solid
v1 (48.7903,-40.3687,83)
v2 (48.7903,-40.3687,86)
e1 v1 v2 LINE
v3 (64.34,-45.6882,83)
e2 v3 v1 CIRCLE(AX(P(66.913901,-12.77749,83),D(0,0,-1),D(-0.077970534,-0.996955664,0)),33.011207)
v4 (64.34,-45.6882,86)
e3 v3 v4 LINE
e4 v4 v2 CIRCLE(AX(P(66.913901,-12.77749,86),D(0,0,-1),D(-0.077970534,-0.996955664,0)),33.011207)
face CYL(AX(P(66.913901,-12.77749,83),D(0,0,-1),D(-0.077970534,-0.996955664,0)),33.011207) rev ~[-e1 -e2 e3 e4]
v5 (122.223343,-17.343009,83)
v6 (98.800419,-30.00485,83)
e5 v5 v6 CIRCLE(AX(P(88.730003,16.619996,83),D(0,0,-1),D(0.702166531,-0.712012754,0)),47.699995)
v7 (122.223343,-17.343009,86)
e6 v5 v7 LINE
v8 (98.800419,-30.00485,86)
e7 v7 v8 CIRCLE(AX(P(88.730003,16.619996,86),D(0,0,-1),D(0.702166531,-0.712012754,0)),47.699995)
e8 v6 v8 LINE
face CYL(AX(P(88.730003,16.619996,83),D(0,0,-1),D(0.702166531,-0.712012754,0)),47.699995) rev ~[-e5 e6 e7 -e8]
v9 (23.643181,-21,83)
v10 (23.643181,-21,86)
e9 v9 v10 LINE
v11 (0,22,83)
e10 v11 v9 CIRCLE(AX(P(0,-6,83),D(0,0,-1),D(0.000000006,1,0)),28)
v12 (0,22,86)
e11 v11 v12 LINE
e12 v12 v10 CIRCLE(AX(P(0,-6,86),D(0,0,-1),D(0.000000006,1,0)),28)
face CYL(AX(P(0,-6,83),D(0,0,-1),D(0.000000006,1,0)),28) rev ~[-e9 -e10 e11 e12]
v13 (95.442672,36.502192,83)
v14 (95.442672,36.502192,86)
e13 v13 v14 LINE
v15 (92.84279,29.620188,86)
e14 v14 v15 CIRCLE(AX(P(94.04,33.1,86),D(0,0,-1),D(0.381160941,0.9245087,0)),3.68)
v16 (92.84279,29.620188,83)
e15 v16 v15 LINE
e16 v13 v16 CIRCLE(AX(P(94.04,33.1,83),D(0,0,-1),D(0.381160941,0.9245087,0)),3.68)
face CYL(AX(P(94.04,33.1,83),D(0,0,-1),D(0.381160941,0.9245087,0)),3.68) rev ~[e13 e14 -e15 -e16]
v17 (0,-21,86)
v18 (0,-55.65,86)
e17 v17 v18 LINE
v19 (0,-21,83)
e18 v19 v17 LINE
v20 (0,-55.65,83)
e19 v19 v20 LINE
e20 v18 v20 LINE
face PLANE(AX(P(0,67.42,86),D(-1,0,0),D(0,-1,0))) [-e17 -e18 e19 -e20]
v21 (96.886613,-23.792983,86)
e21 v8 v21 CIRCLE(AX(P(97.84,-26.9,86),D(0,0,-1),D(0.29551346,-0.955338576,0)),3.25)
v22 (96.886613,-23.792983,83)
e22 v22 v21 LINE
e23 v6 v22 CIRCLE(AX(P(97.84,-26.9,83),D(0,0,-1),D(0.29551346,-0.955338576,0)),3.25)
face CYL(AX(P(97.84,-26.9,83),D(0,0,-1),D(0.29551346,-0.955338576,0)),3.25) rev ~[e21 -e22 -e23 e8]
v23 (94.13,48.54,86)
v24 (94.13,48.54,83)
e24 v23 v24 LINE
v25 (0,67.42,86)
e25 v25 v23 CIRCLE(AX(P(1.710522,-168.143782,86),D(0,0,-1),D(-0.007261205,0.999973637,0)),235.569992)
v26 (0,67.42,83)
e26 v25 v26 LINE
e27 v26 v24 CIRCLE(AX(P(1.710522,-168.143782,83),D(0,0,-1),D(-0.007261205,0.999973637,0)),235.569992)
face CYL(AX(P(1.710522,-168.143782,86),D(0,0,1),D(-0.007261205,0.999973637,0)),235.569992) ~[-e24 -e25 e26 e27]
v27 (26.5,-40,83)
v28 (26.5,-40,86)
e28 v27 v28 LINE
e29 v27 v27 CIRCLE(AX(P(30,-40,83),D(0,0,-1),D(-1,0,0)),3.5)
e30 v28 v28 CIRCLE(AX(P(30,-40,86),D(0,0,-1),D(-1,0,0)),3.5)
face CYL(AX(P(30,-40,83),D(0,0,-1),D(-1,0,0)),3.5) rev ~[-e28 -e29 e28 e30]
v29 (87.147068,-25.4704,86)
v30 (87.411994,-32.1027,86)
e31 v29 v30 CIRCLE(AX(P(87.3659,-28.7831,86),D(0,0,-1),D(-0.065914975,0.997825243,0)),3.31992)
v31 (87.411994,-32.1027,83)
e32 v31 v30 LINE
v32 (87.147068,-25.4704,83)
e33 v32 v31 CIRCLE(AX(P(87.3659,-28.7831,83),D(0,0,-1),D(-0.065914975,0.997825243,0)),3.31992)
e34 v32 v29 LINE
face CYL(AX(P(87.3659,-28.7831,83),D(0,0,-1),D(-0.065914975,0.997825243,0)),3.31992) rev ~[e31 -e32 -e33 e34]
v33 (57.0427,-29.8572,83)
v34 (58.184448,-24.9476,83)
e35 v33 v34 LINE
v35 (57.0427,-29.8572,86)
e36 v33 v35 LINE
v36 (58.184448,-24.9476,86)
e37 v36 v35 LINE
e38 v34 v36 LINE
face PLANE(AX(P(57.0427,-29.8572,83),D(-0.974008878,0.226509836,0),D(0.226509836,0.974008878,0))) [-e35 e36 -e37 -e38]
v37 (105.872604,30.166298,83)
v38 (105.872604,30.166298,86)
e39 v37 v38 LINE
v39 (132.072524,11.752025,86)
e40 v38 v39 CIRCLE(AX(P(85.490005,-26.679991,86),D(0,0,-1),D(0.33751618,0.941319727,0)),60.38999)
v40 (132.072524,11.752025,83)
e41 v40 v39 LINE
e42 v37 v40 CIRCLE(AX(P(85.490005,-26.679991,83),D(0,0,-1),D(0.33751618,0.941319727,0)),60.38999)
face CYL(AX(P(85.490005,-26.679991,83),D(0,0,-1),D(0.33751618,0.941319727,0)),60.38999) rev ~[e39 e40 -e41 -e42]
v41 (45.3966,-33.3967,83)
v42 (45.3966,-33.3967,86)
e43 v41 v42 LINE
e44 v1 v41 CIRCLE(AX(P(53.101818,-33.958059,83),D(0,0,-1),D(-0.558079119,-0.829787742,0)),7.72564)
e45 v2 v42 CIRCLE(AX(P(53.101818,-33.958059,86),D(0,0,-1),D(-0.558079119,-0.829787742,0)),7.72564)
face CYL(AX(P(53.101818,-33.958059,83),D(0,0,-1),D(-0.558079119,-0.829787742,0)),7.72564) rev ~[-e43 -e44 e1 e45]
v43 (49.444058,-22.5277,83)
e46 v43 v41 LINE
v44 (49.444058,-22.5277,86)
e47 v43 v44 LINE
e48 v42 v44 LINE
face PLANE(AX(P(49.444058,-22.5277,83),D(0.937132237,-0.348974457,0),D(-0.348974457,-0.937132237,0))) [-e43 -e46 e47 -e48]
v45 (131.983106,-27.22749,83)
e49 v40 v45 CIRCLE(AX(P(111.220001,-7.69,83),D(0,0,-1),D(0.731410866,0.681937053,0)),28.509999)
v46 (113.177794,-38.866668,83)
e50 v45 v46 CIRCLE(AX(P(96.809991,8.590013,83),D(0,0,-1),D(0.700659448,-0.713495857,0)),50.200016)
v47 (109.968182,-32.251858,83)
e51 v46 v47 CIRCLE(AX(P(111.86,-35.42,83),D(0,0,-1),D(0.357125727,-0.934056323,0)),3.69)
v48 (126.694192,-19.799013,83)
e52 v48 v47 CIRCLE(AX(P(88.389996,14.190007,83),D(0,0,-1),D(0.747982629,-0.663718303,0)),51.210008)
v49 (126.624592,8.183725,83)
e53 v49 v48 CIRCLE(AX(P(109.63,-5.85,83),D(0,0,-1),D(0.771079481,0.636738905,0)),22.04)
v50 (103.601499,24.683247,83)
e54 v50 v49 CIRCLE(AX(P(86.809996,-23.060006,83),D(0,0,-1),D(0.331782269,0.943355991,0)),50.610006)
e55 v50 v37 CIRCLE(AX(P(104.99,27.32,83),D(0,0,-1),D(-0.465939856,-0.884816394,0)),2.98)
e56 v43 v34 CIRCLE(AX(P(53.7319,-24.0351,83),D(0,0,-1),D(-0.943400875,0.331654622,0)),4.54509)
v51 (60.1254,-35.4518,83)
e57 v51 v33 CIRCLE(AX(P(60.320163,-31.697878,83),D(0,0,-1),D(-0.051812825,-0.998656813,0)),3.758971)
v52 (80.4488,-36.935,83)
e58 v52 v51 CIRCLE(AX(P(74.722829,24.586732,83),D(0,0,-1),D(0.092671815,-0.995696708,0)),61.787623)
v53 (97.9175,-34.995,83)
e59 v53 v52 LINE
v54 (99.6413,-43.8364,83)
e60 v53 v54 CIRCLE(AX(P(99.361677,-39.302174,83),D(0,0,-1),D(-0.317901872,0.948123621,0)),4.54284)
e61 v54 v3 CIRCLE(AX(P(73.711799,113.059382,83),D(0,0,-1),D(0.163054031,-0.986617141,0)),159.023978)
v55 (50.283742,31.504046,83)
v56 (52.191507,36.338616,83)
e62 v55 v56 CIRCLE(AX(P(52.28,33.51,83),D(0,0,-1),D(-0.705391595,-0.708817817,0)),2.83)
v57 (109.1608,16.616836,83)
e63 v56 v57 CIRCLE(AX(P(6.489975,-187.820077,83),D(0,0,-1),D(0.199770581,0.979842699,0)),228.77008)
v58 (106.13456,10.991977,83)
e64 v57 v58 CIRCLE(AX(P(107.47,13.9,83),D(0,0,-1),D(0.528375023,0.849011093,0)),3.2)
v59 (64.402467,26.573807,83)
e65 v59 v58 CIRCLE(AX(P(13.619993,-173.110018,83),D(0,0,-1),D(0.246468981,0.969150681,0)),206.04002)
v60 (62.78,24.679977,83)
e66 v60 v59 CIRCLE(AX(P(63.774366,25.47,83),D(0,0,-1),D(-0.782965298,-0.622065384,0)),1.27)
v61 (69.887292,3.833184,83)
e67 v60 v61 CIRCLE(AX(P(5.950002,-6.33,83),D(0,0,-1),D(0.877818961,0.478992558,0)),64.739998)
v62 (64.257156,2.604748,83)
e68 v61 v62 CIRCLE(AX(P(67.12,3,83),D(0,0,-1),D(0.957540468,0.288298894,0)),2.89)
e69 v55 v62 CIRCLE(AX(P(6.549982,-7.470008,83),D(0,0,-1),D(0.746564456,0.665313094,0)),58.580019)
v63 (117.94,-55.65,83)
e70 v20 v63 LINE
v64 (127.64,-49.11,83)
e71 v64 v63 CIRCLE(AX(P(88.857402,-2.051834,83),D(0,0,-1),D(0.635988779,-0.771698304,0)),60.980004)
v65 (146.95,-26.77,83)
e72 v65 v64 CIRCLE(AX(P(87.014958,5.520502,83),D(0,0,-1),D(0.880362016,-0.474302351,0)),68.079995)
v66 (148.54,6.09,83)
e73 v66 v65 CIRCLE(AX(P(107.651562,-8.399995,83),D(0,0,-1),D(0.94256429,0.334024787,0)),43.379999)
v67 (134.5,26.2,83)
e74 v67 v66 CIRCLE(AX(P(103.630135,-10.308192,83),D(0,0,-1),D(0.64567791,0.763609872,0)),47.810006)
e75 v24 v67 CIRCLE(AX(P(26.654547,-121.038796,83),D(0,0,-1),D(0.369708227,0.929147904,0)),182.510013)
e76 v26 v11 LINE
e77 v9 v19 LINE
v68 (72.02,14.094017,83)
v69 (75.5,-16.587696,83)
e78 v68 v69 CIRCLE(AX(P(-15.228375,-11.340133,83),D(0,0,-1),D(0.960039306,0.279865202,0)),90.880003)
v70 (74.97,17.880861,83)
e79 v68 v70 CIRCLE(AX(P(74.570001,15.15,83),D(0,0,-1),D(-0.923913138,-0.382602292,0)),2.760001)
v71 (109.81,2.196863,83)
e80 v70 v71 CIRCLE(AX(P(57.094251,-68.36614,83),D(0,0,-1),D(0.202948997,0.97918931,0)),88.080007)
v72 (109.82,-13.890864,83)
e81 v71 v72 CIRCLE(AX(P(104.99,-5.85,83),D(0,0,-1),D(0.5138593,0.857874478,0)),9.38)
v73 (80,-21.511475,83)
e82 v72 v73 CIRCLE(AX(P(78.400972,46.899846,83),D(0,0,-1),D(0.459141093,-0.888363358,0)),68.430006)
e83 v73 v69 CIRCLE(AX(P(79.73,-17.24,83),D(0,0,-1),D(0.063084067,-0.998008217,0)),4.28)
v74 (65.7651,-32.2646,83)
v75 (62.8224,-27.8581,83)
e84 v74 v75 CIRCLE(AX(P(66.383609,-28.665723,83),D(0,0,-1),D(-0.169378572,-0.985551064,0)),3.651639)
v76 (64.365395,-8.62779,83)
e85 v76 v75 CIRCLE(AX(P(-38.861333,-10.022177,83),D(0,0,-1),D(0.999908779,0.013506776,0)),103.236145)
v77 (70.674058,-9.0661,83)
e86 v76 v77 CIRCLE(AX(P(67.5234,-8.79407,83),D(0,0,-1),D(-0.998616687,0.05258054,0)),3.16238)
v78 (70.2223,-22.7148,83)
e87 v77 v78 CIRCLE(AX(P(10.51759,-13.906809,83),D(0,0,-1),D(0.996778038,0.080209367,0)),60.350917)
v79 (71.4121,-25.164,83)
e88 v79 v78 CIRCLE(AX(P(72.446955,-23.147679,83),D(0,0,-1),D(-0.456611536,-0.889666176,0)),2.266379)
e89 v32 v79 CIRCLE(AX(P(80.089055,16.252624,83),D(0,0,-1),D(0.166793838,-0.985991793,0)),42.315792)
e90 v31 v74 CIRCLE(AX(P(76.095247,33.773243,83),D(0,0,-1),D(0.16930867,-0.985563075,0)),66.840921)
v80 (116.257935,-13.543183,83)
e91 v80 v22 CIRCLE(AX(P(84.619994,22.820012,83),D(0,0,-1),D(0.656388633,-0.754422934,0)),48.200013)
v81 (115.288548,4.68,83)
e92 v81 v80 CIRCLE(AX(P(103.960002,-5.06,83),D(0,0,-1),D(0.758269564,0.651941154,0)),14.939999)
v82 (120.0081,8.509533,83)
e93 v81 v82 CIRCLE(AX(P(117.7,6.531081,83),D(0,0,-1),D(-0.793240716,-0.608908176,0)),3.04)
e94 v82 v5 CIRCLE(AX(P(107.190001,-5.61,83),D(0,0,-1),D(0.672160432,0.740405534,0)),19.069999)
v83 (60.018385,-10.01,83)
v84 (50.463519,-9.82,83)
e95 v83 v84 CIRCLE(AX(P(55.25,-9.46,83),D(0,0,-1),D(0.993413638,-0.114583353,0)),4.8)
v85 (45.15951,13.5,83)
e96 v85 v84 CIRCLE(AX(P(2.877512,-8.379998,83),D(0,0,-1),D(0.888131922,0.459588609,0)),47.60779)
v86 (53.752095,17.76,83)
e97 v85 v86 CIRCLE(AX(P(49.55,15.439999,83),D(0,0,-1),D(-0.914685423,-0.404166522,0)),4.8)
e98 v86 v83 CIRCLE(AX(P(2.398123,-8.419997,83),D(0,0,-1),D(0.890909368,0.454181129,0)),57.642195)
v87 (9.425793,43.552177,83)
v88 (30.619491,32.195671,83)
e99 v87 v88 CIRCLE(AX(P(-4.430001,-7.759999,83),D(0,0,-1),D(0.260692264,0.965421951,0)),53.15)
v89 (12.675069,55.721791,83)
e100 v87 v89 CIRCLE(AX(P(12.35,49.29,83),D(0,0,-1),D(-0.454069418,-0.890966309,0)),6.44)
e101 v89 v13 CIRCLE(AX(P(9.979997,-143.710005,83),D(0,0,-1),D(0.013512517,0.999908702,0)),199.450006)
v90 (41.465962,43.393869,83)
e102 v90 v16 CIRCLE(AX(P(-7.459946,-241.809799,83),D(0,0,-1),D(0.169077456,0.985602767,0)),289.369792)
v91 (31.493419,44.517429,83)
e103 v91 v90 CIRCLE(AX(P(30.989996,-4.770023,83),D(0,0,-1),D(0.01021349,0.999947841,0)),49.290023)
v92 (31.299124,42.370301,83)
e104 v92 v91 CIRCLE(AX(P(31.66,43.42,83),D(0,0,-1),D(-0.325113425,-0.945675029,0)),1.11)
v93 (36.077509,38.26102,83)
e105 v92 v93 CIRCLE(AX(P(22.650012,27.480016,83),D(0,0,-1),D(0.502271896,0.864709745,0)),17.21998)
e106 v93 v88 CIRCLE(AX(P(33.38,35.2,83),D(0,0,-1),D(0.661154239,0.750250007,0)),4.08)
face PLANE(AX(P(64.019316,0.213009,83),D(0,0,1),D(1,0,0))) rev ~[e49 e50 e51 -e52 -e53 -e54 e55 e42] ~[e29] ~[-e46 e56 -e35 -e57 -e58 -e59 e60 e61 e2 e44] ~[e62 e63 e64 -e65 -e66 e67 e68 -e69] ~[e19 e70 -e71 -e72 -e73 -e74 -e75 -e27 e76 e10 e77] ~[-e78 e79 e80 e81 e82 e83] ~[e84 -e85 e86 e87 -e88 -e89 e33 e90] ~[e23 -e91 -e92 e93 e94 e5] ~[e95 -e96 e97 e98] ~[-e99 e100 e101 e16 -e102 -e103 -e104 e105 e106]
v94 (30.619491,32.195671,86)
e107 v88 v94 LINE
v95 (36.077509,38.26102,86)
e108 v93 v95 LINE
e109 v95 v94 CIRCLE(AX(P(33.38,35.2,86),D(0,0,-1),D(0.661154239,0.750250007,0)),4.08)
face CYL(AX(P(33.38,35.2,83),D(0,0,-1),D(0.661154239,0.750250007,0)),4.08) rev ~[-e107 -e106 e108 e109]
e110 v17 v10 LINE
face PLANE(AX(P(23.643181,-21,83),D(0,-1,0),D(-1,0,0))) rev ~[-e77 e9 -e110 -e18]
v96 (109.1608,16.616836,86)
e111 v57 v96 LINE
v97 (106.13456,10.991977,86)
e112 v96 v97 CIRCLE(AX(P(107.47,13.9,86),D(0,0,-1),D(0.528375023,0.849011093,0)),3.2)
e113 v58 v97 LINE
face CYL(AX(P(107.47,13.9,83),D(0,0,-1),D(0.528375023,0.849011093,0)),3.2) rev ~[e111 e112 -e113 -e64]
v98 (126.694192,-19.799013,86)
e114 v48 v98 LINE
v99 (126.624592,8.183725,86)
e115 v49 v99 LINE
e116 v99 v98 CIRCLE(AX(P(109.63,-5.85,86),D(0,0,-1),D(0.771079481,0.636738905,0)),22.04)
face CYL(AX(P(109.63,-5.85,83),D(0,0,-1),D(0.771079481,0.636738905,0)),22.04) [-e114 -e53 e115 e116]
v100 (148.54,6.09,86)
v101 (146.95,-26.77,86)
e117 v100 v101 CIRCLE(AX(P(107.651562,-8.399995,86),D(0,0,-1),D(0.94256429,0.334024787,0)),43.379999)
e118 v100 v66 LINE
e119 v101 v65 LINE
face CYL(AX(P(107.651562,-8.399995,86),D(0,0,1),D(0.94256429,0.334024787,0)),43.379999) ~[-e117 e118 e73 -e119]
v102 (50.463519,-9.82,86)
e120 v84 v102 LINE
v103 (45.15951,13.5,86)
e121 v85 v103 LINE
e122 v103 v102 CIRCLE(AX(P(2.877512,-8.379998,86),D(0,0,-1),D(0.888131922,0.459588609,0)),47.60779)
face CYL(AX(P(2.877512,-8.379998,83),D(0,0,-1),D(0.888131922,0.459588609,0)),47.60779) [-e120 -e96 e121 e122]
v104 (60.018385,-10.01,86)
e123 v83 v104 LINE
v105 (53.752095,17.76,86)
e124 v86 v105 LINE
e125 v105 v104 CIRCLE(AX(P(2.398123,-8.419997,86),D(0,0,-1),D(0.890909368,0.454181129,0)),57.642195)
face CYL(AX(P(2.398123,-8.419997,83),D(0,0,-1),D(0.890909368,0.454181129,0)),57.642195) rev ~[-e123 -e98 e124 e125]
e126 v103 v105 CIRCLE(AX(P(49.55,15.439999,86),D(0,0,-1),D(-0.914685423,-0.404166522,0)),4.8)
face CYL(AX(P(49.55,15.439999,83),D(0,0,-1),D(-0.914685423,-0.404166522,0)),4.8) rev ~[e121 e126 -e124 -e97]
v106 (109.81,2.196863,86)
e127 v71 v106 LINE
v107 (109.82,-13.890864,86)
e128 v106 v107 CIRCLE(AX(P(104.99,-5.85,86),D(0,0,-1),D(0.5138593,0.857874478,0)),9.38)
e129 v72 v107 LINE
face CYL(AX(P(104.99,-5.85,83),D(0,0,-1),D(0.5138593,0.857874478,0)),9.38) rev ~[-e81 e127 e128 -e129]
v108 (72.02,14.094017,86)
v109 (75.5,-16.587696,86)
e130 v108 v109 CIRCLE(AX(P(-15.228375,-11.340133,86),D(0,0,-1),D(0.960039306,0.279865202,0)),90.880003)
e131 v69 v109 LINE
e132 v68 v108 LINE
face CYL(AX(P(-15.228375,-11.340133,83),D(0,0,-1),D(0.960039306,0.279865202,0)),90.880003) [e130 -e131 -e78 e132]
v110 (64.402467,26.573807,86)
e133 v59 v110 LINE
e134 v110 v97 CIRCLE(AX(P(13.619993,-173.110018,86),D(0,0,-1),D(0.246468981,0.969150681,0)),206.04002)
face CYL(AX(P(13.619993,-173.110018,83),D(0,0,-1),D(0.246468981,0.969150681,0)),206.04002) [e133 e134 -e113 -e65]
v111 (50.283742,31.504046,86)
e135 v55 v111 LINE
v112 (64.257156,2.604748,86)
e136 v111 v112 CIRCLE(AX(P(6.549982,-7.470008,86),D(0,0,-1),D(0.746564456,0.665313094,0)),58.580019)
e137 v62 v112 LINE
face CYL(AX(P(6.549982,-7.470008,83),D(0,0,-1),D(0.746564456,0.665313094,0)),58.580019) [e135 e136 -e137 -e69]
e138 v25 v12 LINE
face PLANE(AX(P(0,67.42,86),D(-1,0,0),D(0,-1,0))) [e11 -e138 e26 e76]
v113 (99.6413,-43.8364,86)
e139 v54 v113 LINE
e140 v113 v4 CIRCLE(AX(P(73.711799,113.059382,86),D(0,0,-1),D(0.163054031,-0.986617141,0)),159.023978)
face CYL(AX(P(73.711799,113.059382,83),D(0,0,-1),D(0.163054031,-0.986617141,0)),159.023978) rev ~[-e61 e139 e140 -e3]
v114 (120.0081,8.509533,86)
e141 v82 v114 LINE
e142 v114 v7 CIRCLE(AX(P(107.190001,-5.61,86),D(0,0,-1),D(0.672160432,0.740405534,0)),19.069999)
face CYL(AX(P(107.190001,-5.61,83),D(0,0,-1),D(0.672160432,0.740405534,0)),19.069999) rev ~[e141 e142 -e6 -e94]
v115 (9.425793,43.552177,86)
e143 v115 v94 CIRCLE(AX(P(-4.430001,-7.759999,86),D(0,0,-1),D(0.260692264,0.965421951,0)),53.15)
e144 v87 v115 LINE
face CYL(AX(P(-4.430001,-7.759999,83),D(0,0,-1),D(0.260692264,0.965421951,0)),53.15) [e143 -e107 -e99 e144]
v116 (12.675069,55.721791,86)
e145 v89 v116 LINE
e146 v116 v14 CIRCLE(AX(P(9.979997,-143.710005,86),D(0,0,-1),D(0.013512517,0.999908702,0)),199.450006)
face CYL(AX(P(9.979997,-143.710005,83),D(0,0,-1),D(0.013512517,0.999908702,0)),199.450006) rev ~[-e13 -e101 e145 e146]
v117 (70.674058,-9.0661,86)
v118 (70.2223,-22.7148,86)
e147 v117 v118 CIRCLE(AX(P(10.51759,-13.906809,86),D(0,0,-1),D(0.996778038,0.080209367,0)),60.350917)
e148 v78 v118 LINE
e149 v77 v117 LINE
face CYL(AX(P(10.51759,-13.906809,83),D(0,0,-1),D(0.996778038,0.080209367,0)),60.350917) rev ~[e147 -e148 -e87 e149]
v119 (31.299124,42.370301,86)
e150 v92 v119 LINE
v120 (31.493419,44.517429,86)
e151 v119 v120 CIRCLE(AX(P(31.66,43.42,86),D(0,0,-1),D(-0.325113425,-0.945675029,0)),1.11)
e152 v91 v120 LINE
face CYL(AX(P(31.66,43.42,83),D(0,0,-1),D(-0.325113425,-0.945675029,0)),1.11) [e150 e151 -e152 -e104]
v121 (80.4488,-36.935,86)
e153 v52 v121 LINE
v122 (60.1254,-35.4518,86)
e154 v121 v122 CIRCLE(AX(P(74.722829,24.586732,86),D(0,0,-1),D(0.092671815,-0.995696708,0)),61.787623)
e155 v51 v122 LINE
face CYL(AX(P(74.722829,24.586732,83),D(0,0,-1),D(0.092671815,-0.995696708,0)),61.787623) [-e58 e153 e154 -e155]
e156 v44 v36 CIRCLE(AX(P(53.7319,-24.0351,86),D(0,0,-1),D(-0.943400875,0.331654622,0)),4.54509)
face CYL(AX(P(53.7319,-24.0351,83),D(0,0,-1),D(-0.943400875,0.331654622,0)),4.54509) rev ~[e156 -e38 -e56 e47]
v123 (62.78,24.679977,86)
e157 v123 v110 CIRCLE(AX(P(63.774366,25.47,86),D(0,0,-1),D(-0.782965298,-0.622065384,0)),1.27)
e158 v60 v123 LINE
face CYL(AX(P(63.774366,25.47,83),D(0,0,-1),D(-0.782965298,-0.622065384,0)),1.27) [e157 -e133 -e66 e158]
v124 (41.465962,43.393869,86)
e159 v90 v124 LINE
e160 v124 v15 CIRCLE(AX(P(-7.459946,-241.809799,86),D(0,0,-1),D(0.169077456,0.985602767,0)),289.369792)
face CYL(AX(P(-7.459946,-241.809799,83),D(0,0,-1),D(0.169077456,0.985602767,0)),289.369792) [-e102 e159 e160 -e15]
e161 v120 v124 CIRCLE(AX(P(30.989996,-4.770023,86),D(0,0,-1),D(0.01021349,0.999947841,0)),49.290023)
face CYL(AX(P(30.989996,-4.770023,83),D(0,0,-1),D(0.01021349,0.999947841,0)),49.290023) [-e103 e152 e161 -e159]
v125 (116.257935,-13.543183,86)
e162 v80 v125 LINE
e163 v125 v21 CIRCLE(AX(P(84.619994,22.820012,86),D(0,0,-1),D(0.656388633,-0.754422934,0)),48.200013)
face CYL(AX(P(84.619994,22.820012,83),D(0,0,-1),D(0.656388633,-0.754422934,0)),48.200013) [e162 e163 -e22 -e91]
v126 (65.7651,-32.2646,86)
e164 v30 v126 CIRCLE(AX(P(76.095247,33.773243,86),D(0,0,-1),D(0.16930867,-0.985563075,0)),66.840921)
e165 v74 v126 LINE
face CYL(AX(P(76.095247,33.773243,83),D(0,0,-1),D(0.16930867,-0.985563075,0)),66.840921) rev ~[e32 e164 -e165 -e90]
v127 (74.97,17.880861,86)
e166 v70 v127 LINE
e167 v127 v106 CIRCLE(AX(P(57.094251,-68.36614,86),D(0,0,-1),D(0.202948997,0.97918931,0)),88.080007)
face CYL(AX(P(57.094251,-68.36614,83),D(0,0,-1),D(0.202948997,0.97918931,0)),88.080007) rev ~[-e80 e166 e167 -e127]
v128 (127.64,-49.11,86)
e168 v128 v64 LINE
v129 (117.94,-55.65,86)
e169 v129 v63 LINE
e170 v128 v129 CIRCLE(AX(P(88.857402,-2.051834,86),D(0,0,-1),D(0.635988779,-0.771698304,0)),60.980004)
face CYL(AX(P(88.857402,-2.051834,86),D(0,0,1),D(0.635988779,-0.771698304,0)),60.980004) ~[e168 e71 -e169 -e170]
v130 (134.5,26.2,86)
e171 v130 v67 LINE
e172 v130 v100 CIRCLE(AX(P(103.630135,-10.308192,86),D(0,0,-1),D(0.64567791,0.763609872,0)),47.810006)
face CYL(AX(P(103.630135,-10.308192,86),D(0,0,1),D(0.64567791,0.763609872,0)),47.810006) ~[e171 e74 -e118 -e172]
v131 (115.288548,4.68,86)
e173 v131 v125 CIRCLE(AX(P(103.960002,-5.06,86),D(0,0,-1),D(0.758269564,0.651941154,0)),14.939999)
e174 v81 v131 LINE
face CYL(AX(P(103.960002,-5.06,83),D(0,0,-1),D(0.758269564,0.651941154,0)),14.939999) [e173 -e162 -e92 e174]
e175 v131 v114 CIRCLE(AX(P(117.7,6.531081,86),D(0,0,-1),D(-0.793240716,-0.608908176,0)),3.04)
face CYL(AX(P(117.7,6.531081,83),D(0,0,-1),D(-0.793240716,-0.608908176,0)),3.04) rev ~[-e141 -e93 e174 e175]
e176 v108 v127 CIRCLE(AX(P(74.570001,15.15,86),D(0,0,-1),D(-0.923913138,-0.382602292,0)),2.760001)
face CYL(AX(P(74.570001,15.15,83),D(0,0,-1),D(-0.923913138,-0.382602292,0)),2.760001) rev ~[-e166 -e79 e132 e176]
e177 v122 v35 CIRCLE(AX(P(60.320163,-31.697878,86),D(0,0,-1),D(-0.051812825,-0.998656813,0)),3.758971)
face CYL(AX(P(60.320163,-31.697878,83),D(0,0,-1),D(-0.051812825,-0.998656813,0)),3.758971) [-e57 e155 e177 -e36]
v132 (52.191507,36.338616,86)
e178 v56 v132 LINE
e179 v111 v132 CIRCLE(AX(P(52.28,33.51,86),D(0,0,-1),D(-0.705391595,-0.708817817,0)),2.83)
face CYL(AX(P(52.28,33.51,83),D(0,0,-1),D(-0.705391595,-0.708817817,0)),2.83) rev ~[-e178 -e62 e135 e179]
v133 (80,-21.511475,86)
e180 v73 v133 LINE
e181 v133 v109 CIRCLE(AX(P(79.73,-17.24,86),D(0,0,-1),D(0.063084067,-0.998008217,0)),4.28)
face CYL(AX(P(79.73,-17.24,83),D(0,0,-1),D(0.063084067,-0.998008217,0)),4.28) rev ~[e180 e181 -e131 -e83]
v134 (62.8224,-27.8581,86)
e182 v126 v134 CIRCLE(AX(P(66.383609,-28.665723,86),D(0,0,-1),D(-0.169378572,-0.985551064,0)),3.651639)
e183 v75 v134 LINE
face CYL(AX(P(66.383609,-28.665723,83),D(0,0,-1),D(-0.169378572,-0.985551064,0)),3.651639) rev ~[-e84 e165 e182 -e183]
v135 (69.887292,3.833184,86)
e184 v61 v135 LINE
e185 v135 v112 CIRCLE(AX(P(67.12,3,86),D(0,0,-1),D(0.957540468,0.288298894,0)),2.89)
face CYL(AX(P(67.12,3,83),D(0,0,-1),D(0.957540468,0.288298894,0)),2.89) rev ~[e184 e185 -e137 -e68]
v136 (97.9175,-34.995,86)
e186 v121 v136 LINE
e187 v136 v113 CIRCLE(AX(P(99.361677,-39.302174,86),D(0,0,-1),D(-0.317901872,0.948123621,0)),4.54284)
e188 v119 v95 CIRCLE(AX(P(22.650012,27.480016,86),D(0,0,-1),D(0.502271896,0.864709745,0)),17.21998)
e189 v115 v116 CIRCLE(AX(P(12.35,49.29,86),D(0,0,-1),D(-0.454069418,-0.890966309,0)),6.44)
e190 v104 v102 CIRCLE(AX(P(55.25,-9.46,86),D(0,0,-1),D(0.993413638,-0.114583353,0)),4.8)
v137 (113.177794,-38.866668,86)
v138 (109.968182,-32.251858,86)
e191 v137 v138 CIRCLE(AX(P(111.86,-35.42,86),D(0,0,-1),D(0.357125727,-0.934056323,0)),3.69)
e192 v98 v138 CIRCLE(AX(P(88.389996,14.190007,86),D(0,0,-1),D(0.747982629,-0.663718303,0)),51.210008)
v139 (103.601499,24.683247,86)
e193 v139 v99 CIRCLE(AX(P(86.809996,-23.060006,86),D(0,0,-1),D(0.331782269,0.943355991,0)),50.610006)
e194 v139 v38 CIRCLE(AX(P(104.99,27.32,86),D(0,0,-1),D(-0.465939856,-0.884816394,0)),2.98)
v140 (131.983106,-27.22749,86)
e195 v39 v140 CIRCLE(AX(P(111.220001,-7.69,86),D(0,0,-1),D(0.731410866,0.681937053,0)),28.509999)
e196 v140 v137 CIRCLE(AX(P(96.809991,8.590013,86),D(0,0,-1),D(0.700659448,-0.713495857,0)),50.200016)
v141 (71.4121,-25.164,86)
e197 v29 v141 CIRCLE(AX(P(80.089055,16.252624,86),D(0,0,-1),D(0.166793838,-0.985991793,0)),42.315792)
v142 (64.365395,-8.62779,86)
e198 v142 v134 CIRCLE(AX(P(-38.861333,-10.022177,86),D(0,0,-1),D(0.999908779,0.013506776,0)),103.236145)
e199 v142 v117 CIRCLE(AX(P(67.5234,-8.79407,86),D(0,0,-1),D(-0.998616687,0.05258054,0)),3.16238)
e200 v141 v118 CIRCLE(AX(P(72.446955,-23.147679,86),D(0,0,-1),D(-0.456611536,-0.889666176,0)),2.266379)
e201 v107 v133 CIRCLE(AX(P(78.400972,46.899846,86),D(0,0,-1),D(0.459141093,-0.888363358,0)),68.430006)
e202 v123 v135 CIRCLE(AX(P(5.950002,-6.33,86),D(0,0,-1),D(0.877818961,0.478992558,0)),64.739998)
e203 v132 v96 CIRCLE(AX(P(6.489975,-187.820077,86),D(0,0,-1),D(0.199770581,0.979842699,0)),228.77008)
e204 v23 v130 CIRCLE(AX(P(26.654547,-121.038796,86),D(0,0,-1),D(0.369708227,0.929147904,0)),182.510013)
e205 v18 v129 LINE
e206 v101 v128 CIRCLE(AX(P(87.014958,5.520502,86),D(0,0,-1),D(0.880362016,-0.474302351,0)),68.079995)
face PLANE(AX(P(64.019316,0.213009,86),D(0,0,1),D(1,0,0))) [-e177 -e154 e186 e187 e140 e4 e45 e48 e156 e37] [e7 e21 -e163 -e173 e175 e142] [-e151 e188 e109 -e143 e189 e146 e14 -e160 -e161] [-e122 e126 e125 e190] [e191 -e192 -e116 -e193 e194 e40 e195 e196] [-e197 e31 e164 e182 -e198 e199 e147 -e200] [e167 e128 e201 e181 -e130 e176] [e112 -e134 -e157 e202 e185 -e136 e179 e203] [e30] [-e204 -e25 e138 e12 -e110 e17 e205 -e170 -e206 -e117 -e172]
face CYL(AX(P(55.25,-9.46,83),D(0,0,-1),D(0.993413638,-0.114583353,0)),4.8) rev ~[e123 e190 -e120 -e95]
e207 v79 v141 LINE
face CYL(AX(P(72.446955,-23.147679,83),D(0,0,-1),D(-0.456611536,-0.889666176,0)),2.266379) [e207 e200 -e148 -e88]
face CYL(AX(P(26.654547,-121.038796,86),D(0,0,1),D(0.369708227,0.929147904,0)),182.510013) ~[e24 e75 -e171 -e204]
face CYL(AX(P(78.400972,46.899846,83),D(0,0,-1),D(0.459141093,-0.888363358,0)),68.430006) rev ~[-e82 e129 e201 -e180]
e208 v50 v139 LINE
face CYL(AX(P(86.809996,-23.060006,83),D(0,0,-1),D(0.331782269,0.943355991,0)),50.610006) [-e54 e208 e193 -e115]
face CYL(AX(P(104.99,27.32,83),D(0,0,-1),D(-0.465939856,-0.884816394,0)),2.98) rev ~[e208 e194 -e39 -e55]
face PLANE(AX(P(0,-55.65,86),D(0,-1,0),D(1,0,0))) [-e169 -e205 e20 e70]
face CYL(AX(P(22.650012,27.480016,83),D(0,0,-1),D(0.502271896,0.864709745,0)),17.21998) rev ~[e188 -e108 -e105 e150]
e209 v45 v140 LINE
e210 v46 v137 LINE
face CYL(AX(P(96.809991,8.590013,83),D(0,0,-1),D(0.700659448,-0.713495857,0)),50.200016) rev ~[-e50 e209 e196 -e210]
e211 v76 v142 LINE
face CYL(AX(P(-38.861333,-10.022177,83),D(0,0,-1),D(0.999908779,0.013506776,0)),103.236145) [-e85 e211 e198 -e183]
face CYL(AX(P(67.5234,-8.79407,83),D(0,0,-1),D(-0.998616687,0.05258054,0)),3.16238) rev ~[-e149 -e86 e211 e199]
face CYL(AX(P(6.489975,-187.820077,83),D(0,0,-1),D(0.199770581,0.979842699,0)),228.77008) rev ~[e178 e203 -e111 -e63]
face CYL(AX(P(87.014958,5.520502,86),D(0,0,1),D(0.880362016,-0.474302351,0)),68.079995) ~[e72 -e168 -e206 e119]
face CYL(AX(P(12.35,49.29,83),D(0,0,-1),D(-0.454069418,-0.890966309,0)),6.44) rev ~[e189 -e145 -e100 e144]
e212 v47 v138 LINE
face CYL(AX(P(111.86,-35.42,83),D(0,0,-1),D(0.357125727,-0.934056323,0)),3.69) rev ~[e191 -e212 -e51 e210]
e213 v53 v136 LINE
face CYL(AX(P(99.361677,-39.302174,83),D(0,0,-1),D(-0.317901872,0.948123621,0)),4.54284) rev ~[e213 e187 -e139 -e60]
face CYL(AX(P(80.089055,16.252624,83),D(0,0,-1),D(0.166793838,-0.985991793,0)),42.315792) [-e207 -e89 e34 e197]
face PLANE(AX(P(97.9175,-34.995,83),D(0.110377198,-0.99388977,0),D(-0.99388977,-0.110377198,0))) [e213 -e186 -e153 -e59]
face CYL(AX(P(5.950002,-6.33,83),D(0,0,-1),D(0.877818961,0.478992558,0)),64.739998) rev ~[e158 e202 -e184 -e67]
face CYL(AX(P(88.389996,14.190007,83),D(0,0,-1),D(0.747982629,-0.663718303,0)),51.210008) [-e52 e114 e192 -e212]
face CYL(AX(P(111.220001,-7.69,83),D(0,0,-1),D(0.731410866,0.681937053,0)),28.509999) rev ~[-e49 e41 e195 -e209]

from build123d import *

# Parameters (mm, degrees)
PAD005_DEPTH            = 3
POCKET017_DEPTH         = 3.001
POCKET018_DEPTH         = 3.001
POCKET020_DEPTH         = 3.001
POCKET024_DEPTH         = 3.001
POCKET022_DEPTH         = 3.001
POCKET023_DEPTH         = 3.001
POCKET019_DEPTH         = 3.001
POCKET025_DEPTH         = 3.001
POCKET021_DEPTH         = 3.001
COPYCOPYCOPYSKETCH023_R = 3.5
POCKET034_DEPTH         = 5
BODY004_PLACEMENT_ANGLE = 180


with BuildPart() as part:
    # Sketch024 → Pad005 (new body)
    with BuildSketch(Plane.XY):
        with BuildLine():
            Line((0, 67.42), (0, -55.65))
            Line((0, -55.65), (-117.94, -55.65))
            ThreePointArc((-127.64, -49.11), (-122.947197, -52.613151), (-117.94, -55.65))
            ThreePointArc((-146.95, -26.77), (-138.520798, -38.999541), (-127.64, -49.11))
            ThreePointArc((-148.54, 6.09), (-150.980867, -10.496574), (-146.95, -26.77))
            ThreePointArc((-134.5, 26.2), (-142.831473, 17.060618), (-148.54, 6.09))
            ThreePointArc((-94.13, 48.54), (-115.023795, 38.650843), (-134.5, 26.2))
            ThreePointArc((0, 67.42), (-48.036997, 62.826084), (-94.13, 48.54))
        make_face()
    extrude(amount=PAD005_DEPTH)

    # CopySketch021002 → Pocket017 (cut, through all)
    with BuildSketch(Plane.XY.offset(3)):
        with BuildLine():
            ThreePointArc((0, 22), (-24.535688, 7.490738), (-23.643181, -21))
            Line((-23.643181, -21), (0, -21))
            Line((0, -21), (0, 22))
        make_face()
        with BuildLine():
            ThreePointArc((-45.15951, 13.5), (-47.417918, 19.740491), (-53.752095, 17.76))
            ThreePointArc((-53.752095, 17.76), (-58.626578, 4.267932), (-60.018385, -10.01))
            ThreePointArc((-60.018385, -10.01), (-55.15457, -14.259051), (-50.463519, -9.82))
            ThreePointArc((-45.15951, 13.5), (-49.299707, 2.178481), (-50.463519, -9.82))
        make_face()
    extrude(amount=-POCKET017_DEPTH, mode=Mode.SUBTRACT)

    # CopySketch021003 → Pocket018 (cut, through all)
    with BuildSketch(Plane.XY.offset(3)):
        with BuildLine():
            ThreePointArc((-49.444058, -22.5277), (-54.944649, -19.654794), (-58.184448, -24.9476))
            Line((-57.0427, -29.8572), (-58.184448, -24.9476))
            ThreePointArc((-60.1254, -35.4518), (-57.027903, -33.511958), (-57.0427, -29.8572))
            ThreePointArc((-80.4488, -36.935), (-70.225534, -37.037002), (-60.1254, -35.4518))
            Line((-97.9175, -34.995), (-80.4488, -36.935))
            ThreePointArc((-97.9175, -34.995), (-103.82056, -38.432829), (-99.6413, -43.8364))
            ThreePointArc((-99.6413, -43.8364), (-82.042265, -45.74625), (-64.34, -45.6882))
            ThreePointArc((-64.34, -45.6882), (-56.228822, -44.011588), (-48.7903, -40.3687))
            ThreePointArc((-48.7903, -40.3687), (-46.155403, -37.339305), (-45.3966, -33.3967))
            Line((-49.444058, -22.5277), (-45.3966, -33.3967))
        make_face()
    extrude(amount=-POCKET018_DEPTH, mode=Mode.SUBTRACT)

    # CopySketch021005 → Pocket020 (cut, through all)
    with BuildSketch(Plane.XY.offset(3)):
        with BuildLine():
            ThreePointArc((-64.365395, -8.62779), (-67.742586, -5.639295), (-70.674058, -9.0661))
            ThreePointArc((-70.674058, -9.0661), (-70.835475, -15.903269), (-70.2223, -22.7148))
            ThreePointArc((-71.4121, -25.164), (-70.40839, -24.137996), (-70.2223, -22.7148))
            ThreePointArc((-87.147068, -25.4704), (-79.265214, -26.055148), (-71.4121, -25.164))
            ThreePointArc((-87.147068, -25.4704), (-90.683175, -28.650592), (-87.411994, -32.1027))
            ThreePointArc((-87.411994, -32.1027), (-76.595145, -33.065808), (-65.7651, -32.2646))
            ThreePointArc((-65.7651, -32.2646), (-63.346864, -30.693689), (-62.8224, -27.8581))
            ThreePointArc((-64.365395, -8.62779), (-64.044087, -18.279067), (-62.8224, -27.8581))
        make_face()
    extrude(amount=-POCKET020_DEPTH, mode=Mode.SUBTRACT)

    # CopySketch021006 → Pocket024 (cut, through all)
    with BuildSketch(Plane.XY.offset(3)):
        with BuildLine():
            ThreePointArc((-72.02, 14.094017), (-72.392692, 16.846151), (-74.97, 17.880861))
            ThreePointArc((-74.97, 17.880861), (-93.250673, 11.950737), (-109.81, 2.196863))
            ThreePointArc((-109.81, 2.196863), (-114.369998, -5.844169), (-109.82, -13.890864))
            ThreePointArc((-109.82, -13.890864), (-95.344007, -19.39947), (-80, -21.511475))
            ThreePointArc((-80, -21.511475), (-76.570681, -20.127404), (-75.5, -16.587696))
            ThreePointArc((-72.02, 14.094017), (-75.072637, -1.097957), (-75.5, -16.587696))
        make_face()
    extrude(amount=-POCKET024_DEPTH, mode=Mode.SUBTRACT)

    # CopySketch021007 → Pocket022 (cut, through all)
    with BuildSketch(Plane.XY.offset(3)):
        with BuildLine():
            ThreePointArc((-98.800419, -30.00485), (-94.734065, -27.856904), (-96.886613, -23.792983))
            ThreePointArc((-116.257935, -13.543183), (-107.162558, -19.783674), (-96.886613, -23.792983))
            ThreePointArc((-115.288548, 4.68), (-118.878907, -4.266385), (-116.257935, -13.543183))
            ThreePointArc((-115.288548, 4.68), (-115.784536, 8.891716), (-120.0081, 8.509533))
            ThreePointArc((-120.0081, 8.509533), (-126.190374, -3.981903), (-122.223343, -17.343009))
            ThreePointArc((-122.223343, -17.343009), (-111.413274, -25.3414), (-98.800419, -30.00485))
        make_face()
    extrude(amount=-POCKET022_DEPTH, mode=Mode.SUBTRACT)

    # CopySketch021008 → Pocket023 (cut, through all)
    with BuildSketch(Plane.XY.offset(3)):
        with BuildLine():
            ThreePointArc((-103.601499, 24.683247), (-102.23683, 28.460376), (-105.872604, 30.166298))
            ThreePointArc((-105.872604, 30.166298), (-120.215401, 22.727476), (-132.072524, 11.752025))
            ThreePointArc((-132.072524, 11.752025), (-139.729925, -7.755401), (-131.983106, -27.22749))
            ThreePointArc((-131.983106, -27.22749), (-123.229381, -34.095551), (-113.177794, -38.866668))
            ThreePointArc((-113.177794, -38.866668), (-108.540165, -37.030837), (-109.968182, -32.251858))
            ThreePointArc((-126.694192, -19.799013), (-118.971743, -26.885797), (-109.968182, -32.251858))
            ThreePointArc((-126.624592, 8.183725), (-131.669932, -5.795181), (-126.694192, -19.799013))
            ThreePointArc((-103.601499, 24.683247), (-116.290857, 18.07698), (-126.624592, 8.183725))
        make_face()
    extrude(amount=-POCKET023_DEPTH, mode=Mode.SUBTRACT)

    # CopySketch021009 → Pocket019 (cut, through all)
    with BuildSketch(Plane.XY.offset(3)):
        with BuildLine():
            ThreePointArc((-50.283742, 31.504046), (-49.647546, 34.54879), (-52.191507, 36.338616))
            ThreePointArc((-52.191507, 36.338616), (-81.328643, 28.362539), (-109.1608, 16.616836))
            ThreePointArc((-109.1608, 16.616836), (-110.288036, 12.383863), (-106.13456, 10.991977))
            ThreePointArc((-64.402467, 26.573807), (-85.690853, 19.914024), (-106.13456, 10.991977))
            ThreePointArc((-62.78, 24.679977), (-62.809905, 26.296266), (-64.402467, 26.573807))
            ThreePointArc((-62.78, 24.679977), (-67.226683, 14.561044), (-69.887292, 3.833184))
            ThreePointArc((-69.887292, 3.833184), (-67.736073, 0.176429), (-64.257156, 2.604748))
            ThreePointArc((-50.283742, 31.504046), (-59.288565, 18.030198), (-64.257156, 2.604748))
        make_face()
    extrude(amount=-POCKET019_DEPTH, mode=Mode.SUBTRACT)

    # CopySketch021004 → Pocket025 (cut, through all)
    with BuildSketch(Plane.XY.offset(3)):
        with BuildLine():
            ThreePointArc((-50.283742, 31.504046), (-49.647546, 34.54879), (-52.191507, 36.338616))
            ThreePointArc((-52.191507, 36.338616), (-81.328643, 28.362539), (-109.1608, 16.616836))
            ThreePointArc((-109.1608, 16.616836), (-110.288036, 12.383863), (-106.13456, 10.991977))
            ThreePointArc((-64.402467, 26.573807), (-85.690853, 19.914024), (-106.13456, 10.991977))
            ThreePointArc((-62.78, 24.679977), (-62.809905, 26.296266), (-64.402467, 26.573807))
            ThreePointArc((-62.78, 24.679977), (-67.226683, 14.561044), (-69.887292, 3.833184))
            ThreePointArc((-69.887292, 3.833184), (-67.736073, 0.176429), (-64.257156, 2.604748))
            ThreePointArc((-50.283742, 31.504046), (-59.288565, 18.030198), (-64.257156, 2.604748))
        make_face()
    extrude(amount=-POCKET025_DEPTH, mode=Mode.SUBTRACT)

    # CopySketch021010 → Pocket021 (cut, through all)
    with BuildSketch(Plane.XY.offset(3)):
        with BuildLine():
            ThreePointArc((-95.442672, 36.502192), (-97.482535, 31.79948), (-92.84279, 29.620188))
            ThreePointArc((-41.465962, 43.393869), (-67.471527, 37.690024), (-92.84279, 29.620188))
            ThreePointArc((-31.493419, 44.517429), (-36.50836, 44.210116), (-41.465962, 43.393869))
            ThreePointArc((-31.299124, 42.370301), (-30.554517, 43.520036), (-31.493419, 44.517429))
            ThreePointArc((-31.299124, 42.370301), (-33.877911, 40.536126), (-36.077509, 38.26102))
            ThreePointArc((-36.077509, 38.26102), (-36.412838, 32.470844), (-30.619491, 32.195671))
            ThreePointArc((-9.425793, 43.552177), (-20.673272, 39.08814), (-30.619491, 32.195671))
            ThreePointArc((-9.425793, 43.552177), (-6.127962, 50.951278), (-12.675069, 55.721791))
            ThreePointArc((-12.675069, 55.721791), (-55.094244, 50.570744), (-95.442672, 36.502192))
        make_face()
    extrude(amount=-POCKET021_DEPTH, mode=Mode.SUBTRACT)

    # CopyCopyCopySketch023 → Pocket034 (cut)
    with BuildSketch(Plane.XY.offset(3)):
        with Locations((-30, -40)):
            Circle(COPYCOPYCOPYSKETCH023_R)
    extrude(amount=-POCKET034_DEPTH, mode=Mode.SUBTRACT)


with BuildPart() as part_1:
    # Body004 placement: moved
    add(part.part.moved(Location((0, 0, 86))).rotate(Axis((0, 0, 86), (0, 1, 0)), BODY004_PLACEMENT_ANGLE))


solid = part_1.part
